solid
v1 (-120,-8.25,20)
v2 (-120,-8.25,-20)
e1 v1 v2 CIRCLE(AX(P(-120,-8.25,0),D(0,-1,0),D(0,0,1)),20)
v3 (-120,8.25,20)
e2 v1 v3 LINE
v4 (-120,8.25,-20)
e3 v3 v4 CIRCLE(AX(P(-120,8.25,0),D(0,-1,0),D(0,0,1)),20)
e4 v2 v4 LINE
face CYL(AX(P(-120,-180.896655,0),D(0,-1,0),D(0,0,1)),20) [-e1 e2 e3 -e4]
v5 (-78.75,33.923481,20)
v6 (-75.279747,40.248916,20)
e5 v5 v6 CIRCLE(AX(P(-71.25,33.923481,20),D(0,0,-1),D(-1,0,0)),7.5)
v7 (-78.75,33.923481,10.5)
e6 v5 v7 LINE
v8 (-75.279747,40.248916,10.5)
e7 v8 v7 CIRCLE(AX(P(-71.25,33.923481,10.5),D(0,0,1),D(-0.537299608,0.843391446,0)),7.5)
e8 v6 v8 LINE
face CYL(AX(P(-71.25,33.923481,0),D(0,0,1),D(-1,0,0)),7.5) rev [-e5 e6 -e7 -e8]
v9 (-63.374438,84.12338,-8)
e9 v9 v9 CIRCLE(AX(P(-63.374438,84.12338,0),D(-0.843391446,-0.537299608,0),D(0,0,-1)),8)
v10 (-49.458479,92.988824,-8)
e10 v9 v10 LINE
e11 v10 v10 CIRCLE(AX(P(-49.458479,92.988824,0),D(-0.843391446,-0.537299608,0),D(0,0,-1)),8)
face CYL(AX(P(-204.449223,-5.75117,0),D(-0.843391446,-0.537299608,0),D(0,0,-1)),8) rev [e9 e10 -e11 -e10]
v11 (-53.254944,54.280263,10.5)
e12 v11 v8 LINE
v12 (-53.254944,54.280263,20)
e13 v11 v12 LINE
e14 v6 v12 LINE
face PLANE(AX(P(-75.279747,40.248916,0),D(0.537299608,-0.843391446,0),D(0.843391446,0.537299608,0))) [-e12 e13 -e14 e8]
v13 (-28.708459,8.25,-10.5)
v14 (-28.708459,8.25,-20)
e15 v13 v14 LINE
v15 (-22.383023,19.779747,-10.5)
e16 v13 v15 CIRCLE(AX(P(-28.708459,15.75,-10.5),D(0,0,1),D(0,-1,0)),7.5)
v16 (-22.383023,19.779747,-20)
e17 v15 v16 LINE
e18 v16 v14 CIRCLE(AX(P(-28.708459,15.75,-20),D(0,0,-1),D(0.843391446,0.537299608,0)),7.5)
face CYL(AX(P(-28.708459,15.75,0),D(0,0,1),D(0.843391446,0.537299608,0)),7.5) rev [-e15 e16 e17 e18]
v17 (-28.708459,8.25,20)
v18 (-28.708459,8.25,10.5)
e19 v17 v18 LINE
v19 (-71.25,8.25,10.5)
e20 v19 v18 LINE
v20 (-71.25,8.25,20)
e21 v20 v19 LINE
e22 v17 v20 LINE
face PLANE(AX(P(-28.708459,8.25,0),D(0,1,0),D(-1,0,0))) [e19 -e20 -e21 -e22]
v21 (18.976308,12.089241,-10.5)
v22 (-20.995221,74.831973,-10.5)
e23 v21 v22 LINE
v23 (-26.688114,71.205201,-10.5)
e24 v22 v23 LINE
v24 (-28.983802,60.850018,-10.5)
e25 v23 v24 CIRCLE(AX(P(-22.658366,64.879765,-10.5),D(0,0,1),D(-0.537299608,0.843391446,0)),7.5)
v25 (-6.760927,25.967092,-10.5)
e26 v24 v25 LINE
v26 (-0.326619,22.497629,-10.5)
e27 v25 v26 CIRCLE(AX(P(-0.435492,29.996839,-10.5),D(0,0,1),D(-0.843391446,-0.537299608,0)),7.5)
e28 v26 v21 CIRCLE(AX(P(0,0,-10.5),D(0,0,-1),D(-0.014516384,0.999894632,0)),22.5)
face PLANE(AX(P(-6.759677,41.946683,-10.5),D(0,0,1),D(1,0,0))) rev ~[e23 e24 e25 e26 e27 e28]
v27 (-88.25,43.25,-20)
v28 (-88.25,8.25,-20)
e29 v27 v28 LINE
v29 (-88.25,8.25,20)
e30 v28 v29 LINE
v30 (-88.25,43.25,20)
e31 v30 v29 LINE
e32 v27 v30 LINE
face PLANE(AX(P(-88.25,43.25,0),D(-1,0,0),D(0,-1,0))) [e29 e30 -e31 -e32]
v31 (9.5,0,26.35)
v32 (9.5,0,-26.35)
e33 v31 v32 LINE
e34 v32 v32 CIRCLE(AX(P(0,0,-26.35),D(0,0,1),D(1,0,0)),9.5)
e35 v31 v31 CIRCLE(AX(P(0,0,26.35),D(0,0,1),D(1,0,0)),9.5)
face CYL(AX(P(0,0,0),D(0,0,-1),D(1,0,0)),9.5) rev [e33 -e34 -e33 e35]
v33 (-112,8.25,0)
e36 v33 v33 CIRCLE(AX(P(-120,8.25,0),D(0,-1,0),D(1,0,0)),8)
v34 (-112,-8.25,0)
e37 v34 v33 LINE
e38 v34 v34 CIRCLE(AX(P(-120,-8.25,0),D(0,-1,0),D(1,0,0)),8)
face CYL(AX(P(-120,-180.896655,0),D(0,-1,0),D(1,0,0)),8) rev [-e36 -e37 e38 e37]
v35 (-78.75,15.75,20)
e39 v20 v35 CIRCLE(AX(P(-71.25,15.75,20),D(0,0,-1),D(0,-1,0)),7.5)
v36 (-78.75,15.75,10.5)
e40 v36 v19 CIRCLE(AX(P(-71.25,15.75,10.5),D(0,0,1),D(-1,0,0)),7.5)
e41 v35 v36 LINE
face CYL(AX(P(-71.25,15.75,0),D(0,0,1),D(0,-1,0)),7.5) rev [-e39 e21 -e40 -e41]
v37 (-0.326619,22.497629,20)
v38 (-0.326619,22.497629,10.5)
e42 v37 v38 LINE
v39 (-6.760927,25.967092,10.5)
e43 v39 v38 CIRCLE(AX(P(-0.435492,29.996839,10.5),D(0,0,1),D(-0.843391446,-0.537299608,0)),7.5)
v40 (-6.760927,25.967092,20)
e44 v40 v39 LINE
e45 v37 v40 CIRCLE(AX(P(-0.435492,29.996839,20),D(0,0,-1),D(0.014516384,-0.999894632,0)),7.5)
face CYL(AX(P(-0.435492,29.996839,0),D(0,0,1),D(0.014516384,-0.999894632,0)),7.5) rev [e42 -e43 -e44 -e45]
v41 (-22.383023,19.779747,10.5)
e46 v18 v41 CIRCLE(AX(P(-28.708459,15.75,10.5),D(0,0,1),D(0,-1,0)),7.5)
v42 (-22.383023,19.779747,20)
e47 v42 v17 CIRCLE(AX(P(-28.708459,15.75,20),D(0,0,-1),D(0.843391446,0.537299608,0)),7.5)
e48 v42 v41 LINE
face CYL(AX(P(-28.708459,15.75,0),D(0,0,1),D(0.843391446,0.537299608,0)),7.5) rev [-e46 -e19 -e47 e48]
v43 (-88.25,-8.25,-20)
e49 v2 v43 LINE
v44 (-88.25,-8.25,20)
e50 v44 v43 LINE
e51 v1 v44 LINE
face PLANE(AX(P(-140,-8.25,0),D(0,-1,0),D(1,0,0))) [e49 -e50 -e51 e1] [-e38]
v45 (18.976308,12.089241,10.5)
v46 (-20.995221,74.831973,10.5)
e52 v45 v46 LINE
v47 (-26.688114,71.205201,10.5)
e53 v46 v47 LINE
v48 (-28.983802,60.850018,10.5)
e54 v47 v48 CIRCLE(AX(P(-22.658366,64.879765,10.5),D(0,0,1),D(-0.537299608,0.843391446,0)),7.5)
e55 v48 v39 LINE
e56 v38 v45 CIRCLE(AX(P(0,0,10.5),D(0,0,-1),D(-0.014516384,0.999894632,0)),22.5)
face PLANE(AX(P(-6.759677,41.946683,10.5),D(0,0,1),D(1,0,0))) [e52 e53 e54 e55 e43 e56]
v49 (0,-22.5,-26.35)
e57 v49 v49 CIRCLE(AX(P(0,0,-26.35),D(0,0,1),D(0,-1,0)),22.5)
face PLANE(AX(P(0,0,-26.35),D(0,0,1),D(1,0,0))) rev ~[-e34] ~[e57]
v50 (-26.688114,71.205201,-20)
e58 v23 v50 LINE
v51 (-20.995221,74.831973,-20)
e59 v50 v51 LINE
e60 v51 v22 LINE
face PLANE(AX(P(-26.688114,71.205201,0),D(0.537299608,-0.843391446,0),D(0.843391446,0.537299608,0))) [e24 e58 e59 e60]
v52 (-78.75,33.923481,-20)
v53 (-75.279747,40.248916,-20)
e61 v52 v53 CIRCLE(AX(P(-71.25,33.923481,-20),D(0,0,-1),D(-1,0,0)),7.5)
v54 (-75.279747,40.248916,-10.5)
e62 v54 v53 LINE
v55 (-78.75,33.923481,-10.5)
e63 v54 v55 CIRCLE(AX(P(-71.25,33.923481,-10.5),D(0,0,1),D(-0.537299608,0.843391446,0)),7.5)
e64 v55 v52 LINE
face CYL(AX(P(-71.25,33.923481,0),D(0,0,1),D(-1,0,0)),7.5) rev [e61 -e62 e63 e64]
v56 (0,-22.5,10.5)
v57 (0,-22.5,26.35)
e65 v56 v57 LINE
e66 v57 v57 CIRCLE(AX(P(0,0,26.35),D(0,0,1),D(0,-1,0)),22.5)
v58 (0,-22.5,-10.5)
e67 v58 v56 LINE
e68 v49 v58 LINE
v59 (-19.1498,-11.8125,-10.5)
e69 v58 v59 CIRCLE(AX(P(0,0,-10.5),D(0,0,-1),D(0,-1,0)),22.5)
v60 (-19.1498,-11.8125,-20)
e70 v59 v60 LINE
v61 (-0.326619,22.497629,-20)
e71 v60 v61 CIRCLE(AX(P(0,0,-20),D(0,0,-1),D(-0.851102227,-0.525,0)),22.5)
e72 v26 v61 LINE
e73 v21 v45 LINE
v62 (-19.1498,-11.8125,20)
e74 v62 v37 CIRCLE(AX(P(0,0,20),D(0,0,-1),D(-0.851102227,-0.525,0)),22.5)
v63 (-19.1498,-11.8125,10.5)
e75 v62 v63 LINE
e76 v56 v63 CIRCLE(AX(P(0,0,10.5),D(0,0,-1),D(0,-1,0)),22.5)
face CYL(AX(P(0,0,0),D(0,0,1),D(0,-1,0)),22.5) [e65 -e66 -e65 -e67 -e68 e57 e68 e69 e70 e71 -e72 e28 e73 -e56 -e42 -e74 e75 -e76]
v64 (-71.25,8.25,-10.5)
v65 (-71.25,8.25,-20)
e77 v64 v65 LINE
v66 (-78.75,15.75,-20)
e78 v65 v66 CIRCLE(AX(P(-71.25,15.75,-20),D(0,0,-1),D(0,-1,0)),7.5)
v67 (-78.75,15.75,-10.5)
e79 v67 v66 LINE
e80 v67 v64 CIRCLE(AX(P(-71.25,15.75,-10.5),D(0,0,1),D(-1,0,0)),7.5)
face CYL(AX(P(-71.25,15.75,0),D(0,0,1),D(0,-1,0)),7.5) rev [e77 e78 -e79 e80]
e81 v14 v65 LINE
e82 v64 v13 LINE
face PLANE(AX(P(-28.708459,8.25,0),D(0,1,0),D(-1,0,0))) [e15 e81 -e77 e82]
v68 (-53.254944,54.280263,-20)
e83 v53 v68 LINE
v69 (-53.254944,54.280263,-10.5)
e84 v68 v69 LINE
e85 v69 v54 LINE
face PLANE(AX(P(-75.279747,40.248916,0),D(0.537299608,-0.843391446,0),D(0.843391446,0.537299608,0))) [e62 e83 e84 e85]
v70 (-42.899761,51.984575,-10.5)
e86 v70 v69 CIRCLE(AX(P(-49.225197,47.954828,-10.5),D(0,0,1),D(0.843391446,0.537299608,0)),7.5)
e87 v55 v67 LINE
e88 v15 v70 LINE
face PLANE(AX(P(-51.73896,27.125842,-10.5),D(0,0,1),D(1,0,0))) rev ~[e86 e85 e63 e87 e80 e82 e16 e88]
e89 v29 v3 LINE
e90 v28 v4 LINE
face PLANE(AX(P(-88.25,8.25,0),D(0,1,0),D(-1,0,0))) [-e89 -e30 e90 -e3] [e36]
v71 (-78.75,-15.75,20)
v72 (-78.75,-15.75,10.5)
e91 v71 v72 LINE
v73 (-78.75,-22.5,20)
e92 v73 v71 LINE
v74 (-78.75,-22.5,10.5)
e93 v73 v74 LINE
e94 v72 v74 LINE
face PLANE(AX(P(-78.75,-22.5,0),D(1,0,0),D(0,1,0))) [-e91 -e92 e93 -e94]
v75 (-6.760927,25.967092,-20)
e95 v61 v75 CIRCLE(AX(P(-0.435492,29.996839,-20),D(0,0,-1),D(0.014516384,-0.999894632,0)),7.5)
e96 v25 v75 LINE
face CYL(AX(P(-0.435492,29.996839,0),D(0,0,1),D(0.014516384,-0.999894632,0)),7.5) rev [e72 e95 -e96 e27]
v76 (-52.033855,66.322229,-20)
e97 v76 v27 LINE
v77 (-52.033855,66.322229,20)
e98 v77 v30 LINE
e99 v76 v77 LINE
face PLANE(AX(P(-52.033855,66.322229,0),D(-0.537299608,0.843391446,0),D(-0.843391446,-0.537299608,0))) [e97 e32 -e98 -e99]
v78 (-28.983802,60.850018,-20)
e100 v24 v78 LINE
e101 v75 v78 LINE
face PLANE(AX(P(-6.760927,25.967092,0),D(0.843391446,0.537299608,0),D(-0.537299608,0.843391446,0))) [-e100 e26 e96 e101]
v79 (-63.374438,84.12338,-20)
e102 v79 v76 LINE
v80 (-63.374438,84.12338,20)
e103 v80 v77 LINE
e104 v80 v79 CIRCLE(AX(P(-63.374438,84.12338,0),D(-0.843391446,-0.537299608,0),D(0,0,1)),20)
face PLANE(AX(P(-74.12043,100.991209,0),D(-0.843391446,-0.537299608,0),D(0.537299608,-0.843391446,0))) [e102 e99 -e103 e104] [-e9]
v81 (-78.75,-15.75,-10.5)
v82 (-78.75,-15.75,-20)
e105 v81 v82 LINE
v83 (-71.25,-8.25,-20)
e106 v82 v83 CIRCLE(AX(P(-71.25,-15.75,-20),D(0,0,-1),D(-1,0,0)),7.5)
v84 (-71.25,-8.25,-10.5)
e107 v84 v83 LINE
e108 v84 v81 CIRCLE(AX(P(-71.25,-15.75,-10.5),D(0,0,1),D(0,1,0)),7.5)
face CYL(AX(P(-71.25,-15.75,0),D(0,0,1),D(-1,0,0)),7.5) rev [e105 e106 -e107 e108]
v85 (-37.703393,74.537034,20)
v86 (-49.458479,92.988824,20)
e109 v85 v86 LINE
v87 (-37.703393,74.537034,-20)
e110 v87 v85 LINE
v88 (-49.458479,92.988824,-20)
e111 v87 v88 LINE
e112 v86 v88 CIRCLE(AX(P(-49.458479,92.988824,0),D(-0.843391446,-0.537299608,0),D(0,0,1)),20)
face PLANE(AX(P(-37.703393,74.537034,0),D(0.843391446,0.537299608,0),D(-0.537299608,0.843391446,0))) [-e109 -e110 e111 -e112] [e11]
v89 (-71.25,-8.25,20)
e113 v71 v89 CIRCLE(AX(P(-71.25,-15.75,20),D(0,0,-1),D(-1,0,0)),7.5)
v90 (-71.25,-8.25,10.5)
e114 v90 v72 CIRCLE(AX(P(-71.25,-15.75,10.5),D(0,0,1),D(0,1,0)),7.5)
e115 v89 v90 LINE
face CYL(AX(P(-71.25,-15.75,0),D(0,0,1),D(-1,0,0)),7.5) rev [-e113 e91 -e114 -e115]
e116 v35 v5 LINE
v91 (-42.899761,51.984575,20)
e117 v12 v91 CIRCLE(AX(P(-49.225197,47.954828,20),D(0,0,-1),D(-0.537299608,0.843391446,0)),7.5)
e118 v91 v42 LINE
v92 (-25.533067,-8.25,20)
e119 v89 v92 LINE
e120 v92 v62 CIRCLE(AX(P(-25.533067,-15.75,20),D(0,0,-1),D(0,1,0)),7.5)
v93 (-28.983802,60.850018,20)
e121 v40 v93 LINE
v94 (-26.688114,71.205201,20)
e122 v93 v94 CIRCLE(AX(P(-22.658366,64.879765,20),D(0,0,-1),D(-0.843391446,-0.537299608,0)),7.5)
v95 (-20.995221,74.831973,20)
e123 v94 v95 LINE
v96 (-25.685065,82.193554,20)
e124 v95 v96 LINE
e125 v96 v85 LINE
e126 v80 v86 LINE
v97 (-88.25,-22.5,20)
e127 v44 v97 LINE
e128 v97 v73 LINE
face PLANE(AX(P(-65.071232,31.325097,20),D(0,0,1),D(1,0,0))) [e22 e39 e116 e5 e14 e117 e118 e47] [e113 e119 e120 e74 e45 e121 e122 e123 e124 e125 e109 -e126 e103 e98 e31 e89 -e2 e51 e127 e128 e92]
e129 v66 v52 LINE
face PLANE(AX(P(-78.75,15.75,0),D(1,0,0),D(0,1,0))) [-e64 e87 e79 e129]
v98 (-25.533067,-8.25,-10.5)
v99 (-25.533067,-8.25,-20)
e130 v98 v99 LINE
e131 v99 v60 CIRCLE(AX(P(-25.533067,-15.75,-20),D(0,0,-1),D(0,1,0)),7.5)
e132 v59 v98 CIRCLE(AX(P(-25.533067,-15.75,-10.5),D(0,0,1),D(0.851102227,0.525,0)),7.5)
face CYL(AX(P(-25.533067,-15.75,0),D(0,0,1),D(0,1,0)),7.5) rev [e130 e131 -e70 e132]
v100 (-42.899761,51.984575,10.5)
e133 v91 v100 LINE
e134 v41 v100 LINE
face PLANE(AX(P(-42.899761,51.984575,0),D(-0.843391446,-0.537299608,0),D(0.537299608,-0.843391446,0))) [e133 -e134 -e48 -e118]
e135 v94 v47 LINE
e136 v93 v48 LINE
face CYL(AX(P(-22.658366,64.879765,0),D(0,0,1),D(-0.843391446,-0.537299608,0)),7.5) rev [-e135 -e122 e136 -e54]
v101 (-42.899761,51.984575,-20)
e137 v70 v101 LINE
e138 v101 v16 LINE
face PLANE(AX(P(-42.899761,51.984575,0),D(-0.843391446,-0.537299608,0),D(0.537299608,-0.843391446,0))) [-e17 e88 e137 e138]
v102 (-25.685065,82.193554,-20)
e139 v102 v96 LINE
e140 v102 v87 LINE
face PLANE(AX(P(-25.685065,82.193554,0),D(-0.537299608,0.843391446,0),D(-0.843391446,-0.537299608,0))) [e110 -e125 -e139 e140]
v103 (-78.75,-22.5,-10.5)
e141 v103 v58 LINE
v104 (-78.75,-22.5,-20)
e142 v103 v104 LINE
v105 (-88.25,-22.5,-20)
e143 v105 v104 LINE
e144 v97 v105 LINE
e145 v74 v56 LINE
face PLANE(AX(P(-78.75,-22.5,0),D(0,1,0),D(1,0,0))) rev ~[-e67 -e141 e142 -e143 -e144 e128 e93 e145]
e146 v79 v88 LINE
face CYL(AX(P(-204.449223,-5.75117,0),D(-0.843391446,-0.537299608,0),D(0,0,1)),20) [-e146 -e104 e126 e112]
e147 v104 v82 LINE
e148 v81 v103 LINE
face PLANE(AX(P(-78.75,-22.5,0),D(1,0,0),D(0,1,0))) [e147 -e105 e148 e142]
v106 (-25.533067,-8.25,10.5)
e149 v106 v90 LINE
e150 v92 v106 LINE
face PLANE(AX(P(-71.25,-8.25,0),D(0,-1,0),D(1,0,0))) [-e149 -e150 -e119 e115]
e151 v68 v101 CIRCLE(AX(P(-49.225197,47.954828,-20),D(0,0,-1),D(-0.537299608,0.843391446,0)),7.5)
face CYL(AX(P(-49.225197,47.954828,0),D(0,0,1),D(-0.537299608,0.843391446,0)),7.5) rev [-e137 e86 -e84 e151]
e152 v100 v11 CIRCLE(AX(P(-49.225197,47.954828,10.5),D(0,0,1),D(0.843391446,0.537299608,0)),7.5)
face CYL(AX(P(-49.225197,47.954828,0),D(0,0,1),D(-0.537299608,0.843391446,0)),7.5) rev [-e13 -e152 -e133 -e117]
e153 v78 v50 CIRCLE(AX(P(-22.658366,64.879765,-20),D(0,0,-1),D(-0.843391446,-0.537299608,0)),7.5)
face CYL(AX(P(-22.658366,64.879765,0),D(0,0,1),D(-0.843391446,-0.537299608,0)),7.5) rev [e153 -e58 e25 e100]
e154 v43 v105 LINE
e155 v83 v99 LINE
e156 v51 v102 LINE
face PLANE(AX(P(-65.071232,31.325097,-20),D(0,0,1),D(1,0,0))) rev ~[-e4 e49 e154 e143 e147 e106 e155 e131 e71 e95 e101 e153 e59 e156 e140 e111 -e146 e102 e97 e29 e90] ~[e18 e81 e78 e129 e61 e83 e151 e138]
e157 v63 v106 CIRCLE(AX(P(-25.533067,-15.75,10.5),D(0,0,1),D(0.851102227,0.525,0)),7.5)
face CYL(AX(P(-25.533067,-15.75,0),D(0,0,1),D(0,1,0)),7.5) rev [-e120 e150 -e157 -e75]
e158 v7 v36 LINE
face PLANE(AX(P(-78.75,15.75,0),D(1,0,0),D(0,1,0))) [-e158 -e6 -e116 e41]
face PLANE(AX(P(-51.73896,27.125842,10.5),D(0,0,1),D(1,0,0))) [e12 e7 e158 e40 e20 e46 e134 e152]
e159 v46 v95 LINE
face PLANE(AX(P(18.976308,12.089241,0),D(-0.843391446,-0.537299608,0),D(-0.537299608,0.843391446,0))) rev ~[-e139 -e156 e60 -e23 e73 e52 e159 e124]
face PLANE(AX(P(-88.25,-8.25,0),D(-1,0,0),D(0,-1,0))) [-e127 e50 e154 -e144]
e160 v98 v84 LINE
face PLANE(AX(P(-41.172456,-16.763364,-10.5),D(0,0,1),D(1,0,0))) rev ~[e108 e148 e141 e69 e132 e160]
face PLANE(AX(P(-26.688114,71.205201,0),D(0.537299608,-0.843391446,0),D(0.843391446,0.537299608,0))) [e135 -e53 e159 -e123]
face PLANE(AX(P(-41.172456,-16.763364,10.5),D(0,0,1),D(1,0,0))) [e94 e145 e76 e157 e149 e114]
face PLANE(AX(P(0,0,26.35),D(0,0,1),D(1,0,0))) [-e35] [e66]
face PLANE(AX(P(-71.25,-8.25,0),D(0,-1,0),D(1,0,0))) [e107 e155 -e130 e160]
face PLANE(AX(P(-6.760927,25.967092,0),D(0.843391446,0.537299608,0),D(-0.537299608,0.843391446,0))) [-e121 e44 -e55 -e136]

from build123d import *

# Parameters (mm, degrees)
SKETCH1_R               = 9.499999999999995
BOSS_EXTRUDE1_DEPTH     = 26.35
BOSS_EXTRUDE2_DEPTH     = 20
BOSS_EXTRUDE3_DEPTH     = 10.5
CUT_EXTRUDE1_DEPTH      = 180.89665532608137
CUT_EXTRUDE1_DEPTH_BACK = 180.89665532608137
SKETCH2_R               = 7.999999999999998
CUT_EXTRUDE2_DEPTH      = 183.77082750646198
CUT_EXTRUDE2_DEPTH_BACK = 183.77082750646198
SKETCH4_R               = 7.999999999999996


with BuildPart() as part:
    # Sketch1 → Boss-Extrude1 (new, symmetric)
    with BuildSketch(Plane.XY):
        with BuildLine():
            ThreePointArc((22.5, 0), (21.601121723683402, 6.296152815697305), (18.976307530789946, 12.089241187803507))
            ThreePointArc((18.976307530789946, 12.089241187803507), (10.67878079531028, 19.804384381386672), (-0.3266186383022837, 22.49762921432197))
            ThreePointArc((-0.3266186383022837, 22.49762921432197), (-19.726352003418917, 10.82224730068624), (-19.14980009686784, -11.812500000000023))
            ThreePointArc((-19.149800096867843, -11.812500000000012), (-10.965143637910074, -19.64728034614461), (-4.13e-15, -22.5))
            ThreePointArc((-4.13e-15, -22.5), (15.909902576697315, -15.909902576697323), (22.5, -5.51e-15))
        make_face()
        Circle(SKETCH1_R, mode=Mode.SUBTRACT)
    extrude(amount=BOSS_EXTRUDE1_DEPTH, both=True)

    # Sketch1<3> → Boss-Extrude2 (add, symmetric)
    with BuildSketch(Plane.XY):
        with BuildLine():
            Line((-26.68811354451123, 71.20520110937484), (-20.99522128527427, 74.83197346571588))
            Line((-20.995221285274297, 74.83197346571585), (-25.68506516240018, 82.19355375857313))
            Line((-25.68506516240017, 82.19355375857313), (-37.70339326523374, 74.53703433963095))
            Line((-37.70339326523374, 74.53703433963095), (-60.20447161539646, 109.85665249547212))
            Line((-60.20447161539646, 109.85665249547212), (-74.12043047130908, 100.99120895774956))
            Line((-74.12043047130908, 100.99120895774956), (-52.033854523315306, 66.32222924427353))
            Line((-52.033854523315306, 66.32222924427353), (-88.25, 43.25))
            Line((-88.25, 43.25), (-88.25000000000001, 8.249999999999986))
            Line((-88.25000000000001, 8.24999999999999), (-140, 8.249999999999982))
            Line((-140, 8.249999999999982), (-140, -8.250000000000018))
            Line((-140, -8.250000000000018), (-88.25000000000001, -8.25000000000001))
            Line((-88.25000000000001, -8.25000000000001), (-88.24999999999999, -22.5))
            Line((-88.24999999999999, -22.5), (-78.74999999999999, -22.5))
            Line((-78.74999999999999, -22.5), (-78.75, -15.750000000000018))
            ThreePointArc((-78.75, -15.750000000000018), (-76.5533008588991, -10.44669914110092), (-71.25000000000001, -8.250000000000018))
            Line((-71.25000000000001, -8.250000000000018), (-25.533066795823785, -8.250000000000018))
            ThreePointArc((-25.53306679582379, -8.250000000000018), (-21.878018916520432, -9.200906551285149), (-19.149800096867843, -11.812500000000014))
            ThreePointArc((-19.14980009686784, -11.812500000000023), (-19.726352003418917, 10.82224730068624), (-0.3266186383022837, 22.49762921432197))
            ThreePointArc((-0.3266186383022812, 22.497629214321968), (-3.99508511617313, 23.395377491967075), (-6.7609273613330165, 25.967091889828126))
            Line((-6.760927361333014, 25.967091889828126), (-28.98380232550672, 60.850018203177015))
            ThreePointArc((-28.983802325506723, 60.850018203177015), (-29.980586535309566, 66.50306237031397), (-26.688113544511225, 71.20520110937484))
        make_face()
        with BuildLine():
            ThreePointArc((-53.25494408761715, 54.28026344644994), (-47.60189992048019, 55.27704765625279), (-42.89976118141933, 51.98457466545446))
            Line((-42.89976118141933, 51.98457466545446), (-22.38302326120931, 19.77974706260116))
            ThreePointArc((-22.383023261209313, 19.77974706260116), (-22.13300843699966, 12.142584233104584), (-28.70845910480596, 8.25))
            Line((-28.70845910480596, 8.249999999999998), (-71.25000000000001, 8.249999999999991))
            ThreePointArc((-71.25000000000001, 8.249999999999993), (-76.55330085889912, 10.446699141100883), (-78.75, 15.749999999999993))
            Line((-78.75, 15.749999999999993), (-78.75, 33.92348062734661))
            ThreePointArc((-78.75, 33.92348062734661), (-77.82545066780631, 37.53089639424201), (-75.27974706260119, 40.24891647094325))
            Line((-75.27974706260119, 40.24891647094325), (-53.25494408761715, 54.28026344644994))
        make_face(mode=Mode.SUBTRACT)
    extrude(amount=BOSS_EXTRUDE2_DEPTH, both=True)

    # Sketch1<4> → Boss-Extrude3 (add, symmetric)
    with BuildSketch(Plane.XY):
        with BuildLine():
            ThreePointArc((-0.3266186383022837, 22.49762921432197), (10.67878079531028, 19.804384381386672), (18.976307530789946, 12.089241187803507))
            Line((18.976307530789953, 12.08924118780351), (-20.995221285274297, 74.83197346571585))
            Line((-20.99522128527427, 74.83197346571588), (-26.68811354451123, 71.20520110937484))
            ThreePointArc((-26.688113544511225, 71.20520110937484), (-29.980586535309566, 66.50306237031397), (-28.983802325506723, 60.850018203177015))
            Line((-28.98380232550672, 60.850018203177015), (-6.760927361333014, 25.967091889828126))
            ThreePointArc((-6.7609273613330165, 25.967091889828126), (-3.99508511617313, 23.395377491967075), (-0.3266186383022812, 22.497629214321968))
        make_face()
        with BuildLine():
            Line((-78.74999999999999, -22.5), (0, -22.5))
            ThreePointArc((-4.13e-15, -22.5), (-10.965143637910074, -19.64728034614461), (-19.149800096867843, -11.812500000000012))
            ThreePointArc((-19.149800096867843, -11.812500000000014), (-21.878018916520432, -9.200906551285149), (-25.53306679582379, -8.250000000000018))
            Line((-25.533066795823785, -8.250000000000018), (-71.25000000000001, -8.250000000000018))
            ThreePointArc((-71.25000000000001, -8.250000000000018), (-76.5533008588991, -10.44669914110092), (-78.75, -15.750000000000018))
            Line((-78.75, -15.750000000000018), (-78.74999999999999, -22.5))
        make_face()
        with BuildLine():
            Line((-22.38302326120931, 19.77974706260116), (-42.89976118141933, 51.98457466545446))
            ThreePointArc((-42.89976118141933, 51.98457466545446), (-47.60189992048019, 55.27704765625279), (-53.25494408761715, 54.28026344644994))
            Line((-53.25494408761715, 54.28026344644994), (-75.27974706260119, 40.24891647094325))
            ThreePointArc((-75.27974706260119, 40.24891647094325), (-77.82545066780631, 37.53089639424201), (-78.75, 33.92348062734661))
            Line((-78.75, 33.92348062734661), (-78.75, 15.749999999999993))
            ThreePointArc((-78.75, 15.749999999999993), (-76.55330085889912, 10.446699141100883), (-71.25000000000001, 8.249999999999993))
            Line((-71.25000000000001, 8.249999999999991), (-28.70845910480596, 8.249999999999998))
            ThreePointArc((-28.70845910480596, 8.25), (-22.13300843699966, 12.142584233104584), (-22.383023261209313, 19.77974706260116))
        make_face()
    extrude(amount=BOSS_EXTRUDE3_DEPTH, both=True)

    # Sketch2 → Cut-Extrude1 (cut, two sides: drawn at the far end of the back side and taken through both)
    with BuildSketch(Plane(origin=(0, 0, 0), x_dir=(1, 0, 0), z_dir=(0, 1, 0)).offset(-CUT_EXTRUDE1_DEPTH_BACK)):
        with BuildLine():
            Line((-140, -20), (-120, -20))
            ThreePointArc((-120, -20), (-134.142135661811, -14.142135585650896), (-140, 1.077066557e-07))
            Line((-140, 1.0770665426e-07), (-140, -20))
        make_face()
        with BuildLine():
            ThreePointArc((-140, 1.077066557e-07), (-134.1421355856509, 14.142135661811004), (-120, 20))
            Line((-120, 20.000000000000004), (-140, 20))
            Line((-140, 20), (-140, 1.0770665426e-07))
        make_face()
        with Locations((-120, 0)):
            Circle(SKETCH2_R)
    extrude(amount=CUT_EXTRUDE1_DEPTH + CUT_EXTRUDE1_DEPTH_BACK, mode=Mode.SUBTRACT)

    # Sketch4 → Cut-Extrude2 (cut, two sides: drawn at the far end of the back side and taken through both)
    with BuildSketch(Plane(origin=(6.957979427956333, 4.432721768861295, 0), x_dir=(0, 0, -1), z_dir=(0.8433914458128867, 0.5372996083468223, 0)).offset(-CUT_EXTRUDE2_DEPTH_BACK)):
        with Locations((1.532e-14, 105)):
            Circle(SKETCH4_R)
        with BuildLine():
            ThreePointArc((-4.308254075e-08, 125), (14.142135608498972, 119.14213563896293), (20, 105))
            Line((20, 105), (20, 125))
            Line((20, 125), (-4.30825402e-08, 125))
        make_face()
        with BuildLine():
            ThreePointArc((-20, 105), (-14.142135638962932, 119.14213560849896), (-4.308254075e-08, 125))
            Line((-4.30825402e-08, 125), (-20, 125))
            Line((-20, 125), (-19.999999999999996, 105))
        make_face()
    extrude(amount=CUT_EXTRUDE2_DEPTH + CUT_EXTRUDE2_DEPTH_BACK, mode=Mode.SUBTRACT)


solid = part.part
